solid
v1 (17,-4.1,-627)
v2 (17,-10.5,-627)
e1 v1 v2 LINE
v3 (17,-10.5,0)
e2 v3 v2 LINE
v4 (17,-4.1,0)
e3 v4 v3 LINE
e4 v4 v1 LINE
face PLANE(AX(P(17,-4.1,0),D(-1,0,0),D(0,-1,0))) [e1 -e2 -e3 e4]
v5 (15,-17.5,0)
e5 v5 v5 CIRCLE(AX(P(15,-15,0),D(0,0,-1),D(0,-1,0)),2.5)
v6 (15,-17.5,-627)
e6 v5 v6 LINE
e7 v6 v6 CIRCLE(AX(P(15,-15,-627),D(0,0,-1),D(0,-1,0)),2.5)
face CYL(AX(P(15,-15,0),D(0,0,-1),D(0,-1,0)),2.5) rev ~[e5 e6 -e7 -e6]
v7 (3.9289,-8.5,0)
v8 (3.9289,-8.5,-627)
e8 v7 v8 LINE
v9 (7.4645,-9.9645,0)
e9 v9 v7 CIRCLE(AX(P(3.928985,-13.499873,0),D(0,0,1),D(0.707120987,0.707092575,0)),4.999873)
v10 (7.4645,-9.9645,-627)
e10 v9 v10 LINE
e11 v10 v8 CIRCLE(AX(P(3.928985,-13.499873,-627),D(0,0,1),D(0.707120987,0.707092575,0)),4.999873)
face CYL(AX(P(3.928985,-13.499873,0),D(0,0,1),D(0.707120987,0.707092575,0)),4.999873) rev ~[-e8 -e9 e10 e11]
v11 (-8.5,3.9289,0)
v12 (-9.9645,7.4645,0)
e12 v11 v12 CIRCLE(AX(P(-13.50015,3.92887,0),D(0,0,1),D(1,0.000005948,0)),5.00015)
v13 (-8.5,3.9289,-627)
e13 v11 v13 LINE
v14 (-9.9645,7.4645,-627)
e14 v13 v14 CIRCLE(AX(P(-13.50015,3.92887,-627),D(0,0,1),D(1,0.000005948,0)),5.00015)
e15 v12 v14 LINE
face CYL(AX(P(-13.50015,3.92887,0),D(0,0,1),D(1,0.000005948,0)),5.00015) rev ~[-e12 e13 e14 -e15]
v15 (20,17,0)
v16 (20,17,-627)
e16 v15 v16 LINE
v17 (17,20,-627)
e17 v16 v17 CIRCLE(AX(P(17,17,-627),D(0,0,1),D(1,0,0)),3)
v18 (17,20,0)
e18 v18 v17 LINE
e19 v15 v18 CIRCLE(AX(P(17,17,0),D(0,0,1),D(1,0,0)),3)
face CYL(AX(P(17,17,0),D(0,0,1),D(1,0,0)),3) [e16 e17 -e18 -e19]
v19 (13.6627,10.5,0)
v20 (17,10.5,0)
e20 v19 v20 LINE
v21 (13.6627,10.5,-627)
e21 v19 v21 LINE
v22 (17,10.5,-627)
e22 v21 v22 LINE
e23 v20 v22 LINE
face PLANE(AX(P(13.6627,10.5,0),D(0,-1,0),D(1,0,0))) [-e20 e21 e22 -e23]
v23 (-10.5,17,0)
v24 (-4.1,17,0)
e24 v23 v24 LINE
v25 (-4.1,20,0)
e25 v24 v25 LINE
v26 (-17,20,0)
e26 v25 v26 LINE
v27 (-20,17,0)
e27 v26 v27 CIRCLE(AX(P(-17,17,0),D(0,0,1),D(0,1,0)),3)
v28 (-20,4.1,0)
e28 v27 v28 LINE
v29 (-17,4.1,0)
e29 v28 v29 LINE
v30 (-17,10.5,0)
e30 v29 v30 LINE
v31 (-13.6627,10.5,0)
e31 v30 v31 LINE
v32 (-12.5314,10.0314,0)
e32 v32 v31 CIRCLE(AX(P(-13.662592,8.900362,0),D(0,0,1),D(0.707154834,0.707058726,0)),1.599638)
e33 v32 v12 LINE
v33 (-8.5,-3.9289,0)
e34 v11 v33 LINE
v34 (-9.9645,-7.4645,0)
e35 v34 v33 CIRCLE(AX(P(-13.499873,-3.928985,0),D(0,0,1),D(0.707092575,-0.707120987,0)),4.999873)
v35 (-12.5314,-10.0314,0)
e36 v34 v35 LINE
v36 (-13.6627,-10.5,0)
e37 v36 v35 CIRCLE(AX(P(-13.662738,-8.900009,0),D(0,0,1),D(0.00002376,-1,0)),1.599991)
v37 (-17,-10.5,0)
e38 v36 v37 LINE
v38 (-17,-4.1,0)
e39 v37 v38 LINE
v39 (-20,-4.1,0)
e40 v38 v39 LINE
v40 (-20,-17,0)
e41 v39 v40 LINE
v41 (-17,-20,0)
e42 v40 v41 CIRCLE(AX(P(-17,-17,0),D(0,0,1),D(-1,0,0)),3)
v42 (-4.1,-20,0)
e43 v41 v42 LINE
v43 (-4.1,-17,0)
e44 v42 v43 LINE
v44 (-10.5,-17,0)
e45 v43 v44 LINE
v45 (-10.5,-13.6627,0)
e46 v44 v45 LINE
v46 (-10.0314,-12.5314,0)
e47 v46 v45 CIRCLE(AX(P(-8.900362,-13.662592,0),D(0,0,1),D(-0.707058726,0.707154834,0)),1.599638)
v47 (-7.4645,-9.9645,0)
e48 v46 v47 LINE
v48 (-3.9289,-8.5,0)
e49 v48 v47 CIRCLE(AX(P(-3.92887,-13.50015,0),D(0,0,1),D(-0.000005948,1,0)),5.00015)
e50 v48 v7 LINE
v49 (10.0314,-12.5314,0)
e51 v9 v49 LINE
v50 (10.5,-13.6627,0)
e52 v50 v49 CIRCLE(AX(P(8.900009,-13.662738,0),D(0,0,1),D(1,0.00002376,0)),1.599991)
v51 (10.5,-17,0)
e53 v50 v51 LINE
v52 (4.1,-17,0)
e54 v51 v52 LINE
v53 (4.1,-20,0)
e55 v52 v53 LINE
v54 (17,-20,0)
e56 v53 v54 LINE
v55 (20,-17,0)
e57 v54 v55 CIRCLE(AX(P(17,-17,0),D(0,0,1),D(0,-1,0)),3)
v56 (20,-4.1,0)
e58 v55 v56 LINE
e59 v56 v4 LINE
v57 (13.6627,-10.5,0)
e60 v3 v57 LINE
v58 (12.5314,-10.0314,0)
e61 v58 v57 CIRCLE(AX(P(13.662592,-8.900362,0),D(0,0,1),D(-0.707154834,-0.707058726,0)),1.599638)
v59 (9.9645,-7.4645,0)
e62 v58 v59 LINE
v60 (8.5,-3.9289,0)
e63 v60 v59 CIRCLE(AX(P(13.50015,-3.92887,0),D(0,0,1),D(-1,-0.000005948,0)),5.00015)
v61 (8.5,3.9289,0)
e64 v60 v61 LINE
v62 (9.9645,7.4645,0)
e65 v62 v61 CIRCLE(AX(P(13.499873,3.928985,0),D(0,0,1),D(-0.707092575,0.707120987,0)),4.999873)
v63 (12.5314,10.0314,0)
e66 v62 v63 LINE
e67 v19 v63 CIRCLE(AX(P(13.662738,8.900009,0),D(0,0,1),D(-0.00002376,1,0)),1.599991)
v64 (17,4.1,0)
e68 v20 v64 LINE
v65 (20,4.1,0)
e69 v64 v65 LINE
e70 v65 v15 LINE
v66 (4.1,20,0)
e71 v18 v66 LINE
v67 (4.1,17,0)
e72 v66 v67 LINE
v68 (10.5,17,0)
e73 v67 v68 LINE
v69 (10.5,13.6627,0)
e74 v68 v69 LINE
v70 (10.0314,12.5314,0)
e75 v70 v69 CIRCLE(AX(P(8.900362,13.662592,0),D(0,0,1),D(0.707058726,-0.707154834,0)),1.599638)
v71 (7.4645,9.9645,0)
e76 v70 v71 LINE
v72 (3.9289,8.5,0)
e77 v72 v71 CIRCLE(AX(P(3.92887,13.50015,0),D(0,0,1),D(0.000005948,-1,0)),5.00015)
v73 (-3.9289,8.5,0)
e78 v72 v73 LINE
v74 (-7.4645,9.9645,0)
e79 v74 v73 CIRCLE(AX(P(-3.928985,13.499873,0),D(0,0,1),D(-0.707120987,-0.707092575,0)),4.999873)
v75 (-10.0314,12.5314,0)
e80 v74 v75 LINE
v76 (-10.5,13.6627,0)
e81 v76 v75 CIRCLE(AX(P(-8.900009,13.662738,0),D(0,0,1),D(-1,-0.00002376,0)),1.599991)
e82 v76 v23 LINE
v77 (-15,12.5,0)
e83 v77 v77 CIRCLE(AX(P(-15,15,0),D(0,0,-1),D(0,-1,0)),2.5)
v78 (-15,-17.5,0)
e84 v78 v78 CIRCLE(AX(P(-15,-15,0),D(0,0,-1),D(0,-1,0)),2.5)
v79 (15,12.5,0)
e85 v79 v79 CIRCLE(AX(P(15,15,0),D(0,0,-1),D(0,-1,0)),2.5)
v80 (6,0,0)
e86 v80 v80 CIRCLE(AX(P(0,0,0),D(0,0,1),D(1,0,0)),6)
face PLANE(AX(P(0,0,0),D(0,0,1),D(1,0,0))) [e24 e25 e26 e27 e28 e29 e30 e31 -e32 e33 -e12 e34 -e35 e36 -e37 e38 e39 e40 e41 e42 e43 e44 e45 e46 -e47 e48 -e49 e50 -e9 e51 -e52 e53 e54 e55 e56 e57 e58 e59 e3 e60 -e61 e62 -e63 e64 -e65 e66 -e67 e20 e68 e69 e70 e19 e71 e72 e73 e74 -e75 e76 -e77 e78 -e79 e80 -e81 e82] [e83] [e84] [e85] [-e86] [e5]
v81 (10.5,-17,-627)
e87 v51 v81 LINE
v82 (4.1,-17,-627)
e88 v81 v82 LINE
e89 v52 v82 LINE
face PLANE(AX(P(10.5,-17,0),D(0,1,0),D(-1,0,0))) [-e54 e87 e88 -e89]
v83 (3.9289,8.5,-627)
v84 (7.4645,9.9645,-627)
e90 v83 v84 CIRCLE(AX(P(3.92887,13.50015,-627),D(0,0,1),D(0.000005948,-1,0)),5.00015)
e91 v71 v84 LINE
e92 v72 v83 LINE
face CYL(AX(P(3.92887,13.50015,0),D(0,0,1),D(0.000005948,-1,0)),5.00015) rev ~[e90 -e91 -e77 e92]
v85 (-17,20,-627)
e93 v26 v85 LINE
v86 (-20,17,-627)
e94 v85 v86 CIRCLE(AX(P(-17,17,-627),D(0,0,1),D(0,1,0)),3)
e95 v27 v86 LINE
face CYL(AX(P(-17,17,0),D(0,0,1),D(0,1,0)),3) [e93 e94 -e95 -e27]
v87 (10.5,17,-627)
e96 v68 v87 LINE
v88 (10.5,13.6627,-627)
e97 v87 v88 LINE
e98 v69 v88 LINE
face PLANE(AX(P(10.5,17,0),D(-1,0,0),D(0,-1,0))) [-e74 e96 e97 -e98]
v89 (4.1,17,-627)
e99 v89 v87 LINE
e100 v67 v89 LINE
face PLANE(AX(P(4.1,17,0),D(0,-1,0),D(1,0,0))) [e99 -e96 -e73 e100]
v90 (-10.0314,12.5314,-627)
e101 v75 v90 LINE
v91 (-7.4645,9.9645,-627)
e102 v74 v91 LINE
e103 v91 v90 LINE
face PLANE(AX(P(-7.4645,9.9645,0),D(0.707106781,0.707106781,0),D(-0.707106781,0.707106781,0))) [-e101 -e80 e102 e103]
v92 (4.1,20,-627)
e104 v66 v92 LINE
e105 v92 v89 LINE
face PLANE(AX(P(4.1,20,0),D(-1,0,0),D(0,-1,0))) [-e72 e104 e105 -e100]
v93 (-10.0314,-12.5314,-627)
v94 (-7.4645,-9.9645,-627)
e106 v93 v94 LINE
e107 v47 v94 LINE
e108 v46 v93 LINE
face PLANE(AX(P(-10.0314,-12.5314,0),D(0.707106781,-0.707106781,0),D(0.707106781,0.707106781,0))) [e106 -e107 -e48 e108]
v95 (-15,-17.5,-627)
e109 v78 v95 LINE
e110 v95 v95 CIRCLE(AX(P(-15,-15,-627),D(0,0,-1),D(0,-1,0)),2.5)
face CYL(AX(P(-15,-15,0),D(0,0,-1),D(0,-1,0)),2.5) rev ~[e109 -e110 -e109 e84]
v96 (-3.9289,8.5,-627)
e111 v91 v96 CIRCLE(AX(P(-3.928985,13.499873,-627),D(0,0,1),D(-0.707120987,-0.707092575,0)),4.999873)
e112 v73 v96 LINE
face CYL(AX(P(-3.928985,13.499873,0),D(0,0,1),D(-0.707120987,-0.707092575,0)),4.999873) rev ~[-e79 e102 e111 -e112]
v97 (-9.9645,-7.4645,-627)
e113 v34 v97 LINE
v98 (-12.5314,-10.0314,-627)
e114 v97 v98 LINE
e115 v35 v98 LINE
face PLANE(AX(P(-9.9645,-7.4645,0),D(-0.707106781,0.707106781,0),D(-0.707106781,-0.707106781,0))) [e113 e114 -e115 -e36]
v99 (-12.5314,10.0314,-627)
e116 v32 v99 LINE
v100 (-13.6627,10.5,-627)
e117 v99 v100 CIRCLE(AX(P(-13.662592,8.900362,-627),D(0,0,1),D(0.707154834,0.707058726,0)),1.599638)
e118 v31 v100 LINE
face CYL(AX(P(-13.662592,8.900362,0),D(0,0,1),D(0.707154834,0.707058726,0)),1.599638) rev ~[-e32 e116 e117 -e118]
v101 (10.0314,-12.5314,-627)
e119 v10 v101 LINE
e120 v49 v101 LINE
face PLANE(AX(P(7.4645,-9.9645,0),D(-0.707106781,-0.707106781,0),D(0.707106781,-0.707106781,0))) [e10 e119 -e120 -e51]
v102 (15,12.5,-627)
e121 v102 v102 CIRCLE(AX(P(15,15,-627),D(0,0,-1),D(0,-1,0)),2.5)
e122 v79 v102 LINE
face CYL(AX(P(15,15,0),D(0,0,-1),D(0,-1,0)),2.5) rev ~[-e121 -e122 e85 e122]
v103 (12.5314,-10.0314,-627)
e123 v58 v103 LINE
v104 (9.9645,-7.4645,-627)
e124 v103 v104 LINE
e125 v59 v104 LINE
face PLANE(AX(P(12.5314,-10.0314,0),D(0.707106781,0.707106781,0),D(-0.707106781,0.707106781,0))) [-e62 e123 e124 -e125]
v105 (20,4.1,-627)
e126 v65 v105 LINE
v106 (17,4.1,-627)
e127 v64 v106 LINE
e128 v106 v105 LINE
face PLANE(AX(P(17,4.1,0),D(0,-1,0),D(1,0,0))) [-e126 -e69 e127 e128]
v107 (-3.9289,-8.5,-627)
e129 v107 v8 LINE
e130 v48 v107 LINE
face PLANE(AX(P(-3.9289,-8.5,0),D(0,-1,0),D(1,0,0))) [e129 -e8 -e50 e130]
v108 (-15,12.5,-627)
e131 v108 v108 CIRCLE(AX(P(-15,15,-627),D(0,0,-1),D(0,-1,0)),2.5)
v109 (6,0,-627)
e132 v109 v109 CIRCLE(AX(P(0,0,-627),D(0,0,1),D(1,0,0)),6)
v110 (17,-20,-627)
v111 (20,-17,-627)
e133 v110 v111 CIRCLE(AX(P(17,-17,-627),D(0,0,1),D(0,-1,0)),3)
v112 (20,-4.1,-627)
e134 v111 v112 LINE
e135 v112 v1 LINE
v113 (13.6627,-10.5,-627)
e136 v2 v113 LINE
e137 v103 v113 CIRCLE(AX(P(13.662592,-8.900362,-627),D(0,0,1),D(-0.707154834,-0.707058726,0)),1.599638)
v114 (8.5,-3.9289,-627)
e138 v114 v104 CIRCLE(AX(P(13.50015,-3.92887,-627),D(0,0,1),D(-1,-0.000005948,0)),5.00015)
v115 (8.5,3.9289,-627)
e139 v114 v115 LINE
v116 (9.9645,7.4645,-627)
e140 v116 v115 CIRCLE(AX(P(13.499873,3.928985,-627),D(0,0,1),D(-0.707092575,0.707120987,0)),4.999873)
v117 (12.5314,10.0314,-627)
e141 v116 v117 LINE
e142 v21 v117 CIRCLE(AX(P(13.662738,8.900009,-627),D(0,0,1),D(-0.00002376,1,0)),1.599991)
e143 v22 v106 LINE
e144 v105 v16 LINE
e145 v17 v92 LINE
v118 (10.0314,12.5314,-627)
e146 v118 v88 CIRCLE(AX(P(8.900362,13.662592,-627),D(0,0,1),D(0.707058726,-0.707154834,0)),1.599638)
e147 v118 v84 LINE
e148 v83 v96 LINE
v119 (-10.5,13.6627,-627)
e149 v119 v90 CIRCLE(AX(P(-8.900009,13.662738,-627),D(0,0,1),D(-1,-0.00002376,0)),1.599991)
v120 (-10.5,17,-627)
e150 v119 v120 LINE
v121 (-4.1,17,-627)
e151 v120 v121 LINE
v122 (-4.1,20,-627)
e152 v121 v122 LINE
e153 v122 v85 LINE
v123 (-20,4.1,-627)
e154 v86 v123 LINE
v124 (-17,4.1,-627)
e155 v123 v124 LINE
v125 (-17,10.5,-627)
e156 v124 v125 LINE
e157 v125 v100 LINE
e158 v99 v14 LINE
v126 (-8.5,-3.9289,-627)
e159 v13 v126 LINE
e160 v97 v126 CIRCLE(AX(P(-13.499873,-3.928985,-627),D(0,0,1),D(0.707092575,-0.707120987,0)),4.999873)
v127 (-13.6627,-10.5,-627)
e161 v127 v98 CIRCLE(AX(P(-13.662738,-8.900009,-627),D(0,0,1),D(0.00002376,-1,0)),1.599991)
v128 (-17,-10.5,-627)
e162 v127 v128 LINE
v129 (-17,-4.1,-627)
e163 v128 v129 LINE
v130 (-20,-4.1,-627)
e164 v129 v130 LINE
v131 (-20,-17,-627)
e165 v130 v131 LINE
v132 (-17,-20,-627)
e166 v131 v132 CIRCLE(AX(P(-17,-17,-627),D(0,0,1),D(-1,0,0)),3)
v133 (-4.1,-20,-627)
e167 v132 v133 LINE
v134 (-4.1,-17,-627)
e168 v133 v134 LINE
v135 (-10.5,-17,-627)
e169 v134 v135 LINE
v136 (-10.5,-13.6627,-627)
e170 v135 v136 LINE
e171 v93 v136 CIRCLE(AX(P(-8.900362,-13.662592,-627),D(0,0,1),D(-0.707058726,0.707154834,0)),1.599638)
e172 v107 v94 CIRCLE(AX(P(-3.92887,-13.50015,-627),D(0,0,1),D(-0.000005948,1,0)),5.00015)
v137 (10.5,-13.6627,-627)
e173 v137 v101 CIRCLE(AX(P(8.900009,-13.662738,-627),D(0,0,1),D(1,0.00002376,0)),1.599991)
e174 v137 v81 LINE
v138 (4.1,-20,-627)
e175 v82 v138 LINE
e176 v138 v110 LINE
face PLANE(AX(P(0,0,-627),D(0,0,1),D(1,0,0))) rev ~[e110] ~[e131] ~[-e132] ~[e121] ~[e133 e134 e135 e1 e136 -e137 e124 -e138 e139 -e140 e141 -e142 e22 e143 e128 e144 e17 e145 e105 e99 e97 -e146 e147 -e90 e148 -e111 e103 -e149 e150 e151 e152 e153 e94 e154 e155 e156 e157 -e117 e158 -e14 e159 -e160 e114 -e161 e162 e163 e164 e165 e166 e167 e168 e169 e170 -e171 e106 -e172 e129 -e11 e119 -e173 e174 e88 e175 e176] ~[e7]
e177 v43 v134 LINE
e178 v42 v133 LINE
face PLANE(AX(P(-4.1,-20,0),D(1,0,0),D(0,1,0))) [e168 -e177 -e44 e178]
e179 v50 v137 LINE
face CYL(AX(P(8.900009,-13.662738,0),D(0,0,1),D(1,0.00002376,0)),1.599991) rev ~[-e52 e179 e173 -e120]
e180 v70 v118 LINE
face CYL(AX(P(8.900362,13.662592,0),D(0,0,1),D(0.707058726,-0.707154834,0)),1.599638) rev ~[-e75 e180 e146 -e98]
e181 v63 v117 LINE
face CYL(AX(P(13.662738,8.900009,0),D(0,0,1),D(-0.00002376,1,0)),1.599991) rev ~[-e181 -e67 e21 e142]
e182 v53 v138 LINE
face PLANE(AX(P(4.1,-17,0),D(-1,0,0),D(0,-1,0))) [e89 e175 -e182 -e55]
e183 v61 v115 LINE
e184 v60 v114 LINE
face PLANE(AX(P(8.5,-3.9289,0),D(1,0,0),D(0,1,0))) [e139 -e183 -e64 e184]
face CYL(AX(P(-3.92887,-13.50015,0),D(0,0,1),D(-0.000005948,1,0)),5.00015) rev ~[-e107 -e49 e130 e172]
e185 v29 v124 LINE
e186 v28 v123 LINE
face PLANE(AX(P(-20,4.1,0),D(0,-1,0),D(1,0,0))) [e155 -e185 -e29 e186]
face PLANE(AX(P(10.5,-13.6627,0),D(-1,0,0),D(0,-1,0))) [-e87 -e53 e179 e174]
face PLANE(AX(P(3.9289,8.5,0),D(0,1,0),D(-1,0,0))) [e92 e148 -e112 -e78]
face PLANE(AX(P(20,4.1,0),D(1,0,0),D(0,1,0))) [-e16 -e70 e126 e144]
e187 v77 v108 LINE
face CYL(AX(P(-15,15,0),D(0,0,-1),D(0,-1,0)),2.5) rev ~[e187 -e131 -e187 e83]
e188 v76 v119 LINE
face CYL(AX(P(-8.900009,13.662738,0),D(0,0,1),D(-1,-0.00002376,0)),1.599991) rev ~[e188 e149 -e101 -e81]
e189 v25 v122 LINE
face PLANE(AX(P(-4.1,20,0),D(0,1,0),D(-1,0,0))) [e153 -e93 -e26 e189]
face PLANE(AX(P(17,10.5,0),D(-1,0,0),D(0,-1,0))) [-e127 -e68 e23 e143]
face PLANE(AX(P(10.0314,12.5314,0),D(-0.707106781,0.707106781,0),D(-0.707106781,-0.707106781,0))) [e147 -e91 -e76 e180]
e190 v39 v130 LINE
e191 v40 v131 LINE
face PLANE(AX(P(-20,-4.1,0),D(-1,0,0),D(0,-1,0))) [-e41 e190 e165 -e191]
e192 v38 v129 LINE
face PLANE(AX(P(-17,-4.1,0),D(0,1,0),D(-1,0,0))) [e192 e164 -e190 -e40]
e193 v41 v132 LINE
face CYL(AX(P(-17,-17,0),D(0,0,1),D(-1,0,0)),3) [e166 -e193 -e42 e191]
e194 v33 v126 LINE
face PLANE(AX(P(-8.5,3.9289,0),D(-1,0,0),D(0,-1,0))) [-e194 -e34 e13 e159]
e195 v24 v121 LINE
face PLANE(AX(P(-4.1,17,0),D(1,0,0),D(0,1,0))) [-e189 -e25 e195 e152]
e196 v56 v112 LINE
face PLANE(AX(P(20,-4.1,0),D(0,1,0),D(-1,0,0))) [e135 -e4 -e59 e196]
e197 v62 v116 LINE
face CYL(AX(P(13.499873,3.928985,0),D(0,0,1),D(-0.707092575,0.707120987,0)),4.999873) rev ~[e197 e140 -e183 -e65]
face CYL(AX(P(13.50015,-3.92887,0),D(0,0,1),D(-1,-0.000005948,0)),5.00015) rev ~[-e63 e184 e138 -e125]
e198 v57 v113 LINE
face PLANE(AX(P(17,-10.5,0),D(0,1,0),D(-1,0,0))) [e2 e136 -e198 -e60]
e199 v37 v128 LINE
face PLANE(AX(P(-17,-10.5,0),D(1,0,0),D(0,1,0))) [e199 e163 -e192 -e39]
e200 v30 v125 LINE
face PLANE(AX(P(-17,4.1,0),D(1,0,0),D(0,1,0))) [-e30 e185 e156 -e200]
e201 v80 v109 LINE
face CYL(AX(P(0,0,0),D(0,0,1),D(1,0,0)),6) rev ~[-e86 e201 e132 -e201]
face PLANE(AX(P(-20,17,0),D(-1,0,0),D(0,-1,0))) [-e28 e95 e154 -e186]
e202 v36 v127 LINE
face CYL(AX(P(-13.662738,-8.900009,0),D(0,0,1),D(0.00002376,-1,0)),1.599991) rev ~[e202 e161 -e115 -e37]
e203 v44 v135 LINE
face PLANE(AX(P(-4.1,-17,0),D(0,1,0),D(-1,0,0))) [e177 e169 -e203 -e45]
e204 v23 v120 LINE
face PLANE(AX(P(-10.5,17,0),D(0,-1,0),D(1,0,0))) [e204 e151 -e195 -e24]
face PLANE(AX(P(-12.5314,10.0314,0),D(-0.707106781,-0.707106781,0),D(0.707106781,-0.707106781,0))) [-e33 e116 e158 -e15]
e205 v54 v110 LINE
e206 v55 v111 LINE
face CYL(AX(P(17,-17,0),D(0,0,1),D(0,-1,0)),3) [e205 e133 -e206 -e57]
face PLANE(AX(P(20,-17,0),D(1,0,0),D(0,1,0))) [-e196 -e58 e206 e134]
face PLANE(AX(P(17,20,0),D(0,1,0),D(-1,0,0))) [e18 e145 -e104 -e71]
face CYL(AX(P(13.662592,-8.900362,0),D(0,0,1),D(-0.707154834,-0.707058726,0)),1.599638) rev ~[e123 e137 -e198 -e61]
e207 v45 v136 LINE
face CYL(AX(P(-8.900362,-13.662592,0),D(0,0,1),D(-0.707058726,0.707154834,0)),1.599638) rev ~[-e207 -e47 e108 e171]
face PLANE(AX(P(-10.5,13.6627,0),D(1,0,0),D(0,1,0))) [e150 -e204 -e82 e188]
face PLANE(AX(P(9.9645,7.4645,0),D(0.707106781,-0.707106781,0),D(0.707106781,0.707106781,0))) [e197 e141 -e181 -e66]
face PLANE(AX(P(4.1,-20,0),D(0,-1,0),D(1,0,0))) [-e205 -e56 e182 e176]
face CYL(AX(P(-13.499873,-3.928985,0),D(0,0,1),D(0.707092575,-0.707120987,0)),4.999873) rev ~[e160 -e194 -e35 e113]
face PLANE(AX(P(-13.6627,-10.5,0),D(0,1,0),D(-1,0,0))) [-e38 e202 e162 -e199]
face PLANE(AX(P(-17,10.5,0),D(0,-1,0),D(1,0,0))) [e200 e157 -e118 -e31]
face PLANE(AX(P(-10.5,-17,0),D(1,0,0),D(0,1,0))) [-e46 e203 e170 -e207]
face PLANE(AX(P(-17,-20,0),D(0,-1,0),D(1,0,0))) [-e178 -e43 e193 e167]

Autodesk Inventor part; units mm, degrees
sketch "Skizze_1" plane through (0, 0, 0) normal (0, 0, 1) x (1, 0, 0)
  arc A0 (-20, -17) -> (-17, -20) centre (-17, -17) ccw
  line L0 (-17, -20) -> (-4.1, -20)
  line L1 (-4.1, -20) -> (-4.1, -17)
  line L2 (-4.1, -17) -> (-10.5, -17)
  line L3 (-10.5, -17) -> (-10.5, -13.6627)
  arc A1 (-10.0314, -12.5314) -> (-10.5, -13.6627) centre (-8.9002, -13.6627) ccw
  line L4 (-10.0314, -12.5314) -> (-7.4645, -9.9645)
  arc A2 (-3.9289, -8.5) -> (-7.4645, -9.9645) centre (-3.9289, -13.5) ccw
  line L5 (-3.9289, -8.5) -> (3.9289, -8.5)
  arc A3 (7.4645, -9.9645) -> (3.9289, -8.5) centre (3.9289, -13.5) ccw
  line L6 (7.4645, -9.9645) -> (10.0314, -12.5314)
  arc A4 (10.5, -13.6627) -> (10.0314, -12.5314) centre (8.9002, -13.6627) ccw
  line L7 (10.5, -13.6627) -> (10.5, -17)
  line L8 (10.5, -17) -> (4.1, -17)
  line L9 (4.1, -17) -> (4.1, -20)
  line L10 (4.1, -20) -> (17, -20)
  arc A5 (17, -20) -> (20, -17) centre (17, -17) ccw
  line L11 (20, -17) -> (20, -4.1)
  line L12 (20, -4.1) -> (17, -4.1)
  line L13 (17, -4.1) -> (17, -10.5)
  line L14 (17, -10.5) -> (13.6627, -10.5)
  arc A6 (12.5314, -10.0314) -> (13.6627, -10.5) centre (13.6627, -8.9002) ccw
  line L15 (12.5314, -10.0314) -> (9.9645, -7.4645)
  arc A7 (8.5, -3.9289) -> (9.9645, -7.4645) centre (13.5, -3.9289) ccw
  line L16 (8.5, -3.9289) -> (8.5, 3.9289)
  arc A8 (9.9645, 7.4645) -> (8.5, 3.9289) centre (13.5, 3.9289) ccw
  line L17 (9.9645, 7.4645) -> (12.5314, 10.0314)
  arc A9 (13.6627, 10.5) -> (12.5314, 10.0314) centre (13.6627, 8.9002) ccw
  line L18 (13.6627, 10.5) -> (17, 10.5)
  line L19 (17, 10.5) -> (17, 4.1)
  line L20 (17, 4.1) -> (20, 4.1)
  line L21 (20, 4.1) -> (20, 17)
  arc A10 (20, 17) -> (17, 20) centre (17, 17) ccw
  line L22 (17, 20) -> (4.1, 20)
  line L23 (4.1, 20) -> (4.1, 17)
  line L24 (4.1, 17) -> (10.5, 17)
  line L25 (10.5, 17) -> (10.5, 13.6627)
  arc A11 (10.0314, 12.5314) -> (10.5, 13.6627) centre (8.9002, 13.6627) ccw
  line L26 (10.0314, 12.5314) -> (7.4645, 9.9645)
  arc A12 (3.9289, 8.5) -> (7.4645, 9.9645) centre (3.9289, 13.5) ccw
  line L27 (3.9289, 8.5) -> (-3.9289, 8.5)
  arc A13 (-7.4645, 9.9645) -> (-3.9289, 8.5) centre (-3.9289, 13.5) ccw
  line L28 (-7.4645, 9.9645) -> (-10.0314, 12.5314)
  arc A14 (-10.5, 13.6627) -> (-10.0314, 12.5314) centre (-8.9002, 13.6627) ccw
  line L29 (-10.5, 13.6627) -> (-10.5, 17)
  line L30 (-10.5, 17) -> (-4.1, 17)
  line L31 (-4.1, 17) -> (-4.1, 20)
  line L32 (-4.1, 20) -> (-17, 20)
  arc A15 (-17, 20) -> (-20, 17) centre (-17, 17) ccw
  line L33 (-20, 17) -> (-20, 4.1)
  line L34 (-20, 4.1) -> (-17, 4.1)
  line L35 (-17, 4.1) -> (-17, 10.5)
  line L36 (-17, 10.5) -> (-13.6627, 10.5)
  arc A16 (-12.5314, 10.0314) -> (-13.6627, 10.5) centre (-13.6627, 8.9002) ccw
  line L37 (-12.5314, 10.0314) -> (-9.9645, 7.4645)
  arc A17 (-8.5, 3.9289) -> (-9.9645, 7.4645) centre (-13.5, 3.9289) ccw
  line L38 (-8.5, 3.9289) -> (-8.5, -3.9289)
  arc A18 (-9.9645, -7.4645) -> (-8.5, -3.9289) centre (-13.5, -3.9289) ccw
  line L39 (-9.9645, -7.4645) -> (-12.5314, -10.0314)
  arc A19 (-13.6627, -10.5) -> (-12.5314, -10.0314) centre (-13.6627, -8.9002) ccw
  line L40 (-13.6627, -10.5) -> (-17, -10.5)
  line L41 (-17, -10.5) -> (-17, -4.1)
  line L42 (-17, -4.1) -> (-20, -4.1)
  line L43 (-20, -4.1) -> (-20, -17)
  circle A20 centre (0, 0) radius 6
extrude "Extrusion1" add sketch "Skizze_1" against normal blind 627
sketch "Sketch2" plane through (0, 0, 0) normal (0, 0, 1) x (1, 0, 0)
  point P0 (-15, -15)
hole "Drilling 1" at (-15, -15, 0) direction (0, 0, -1) diameter 5 depth 6000
sketch "Sketch3" plane through (0, 0, 0) normal (0, 0, 1) x (1, 0, 0)
  point P0 (15, -15)
hole "Drilling 2" at (15, -15, 0) direction (0, 0, -1) diameter 5 depth 6000
sketch "Sketch4" plane through (0, 0, 0) normal (0, 0, 1) x (1, 0, 0)
  point P0 (15, 15)
hole "Drilling 3" at (15, 15, 0) direction (0, 0, -1) diameter 5 depth 6000
sketch "Sketch5" plane through (0, 0, 0) normal (0, 0, 1) x (1, 0, 0)
  point P0 (-15, 15)
hole "Drilling 4" at (-15, 15, 0) direction (0, 0, -1) diameter 5 depth 6000
ref_plane "side_4d_XY" through (-20, 0, -313.5) normal (-1, 0, 0) x (0, 1, 0)
ref_plane "side_4d_YZ" through (-20, 0, -313.5) normal (0, 1, 0) x (0, 0, -1)
ref_plane "side_4d_ZX" through (-20, 0, -313.5) normal (0, 0, -1) x (-1, 0, 0)
ref_plane "side_1a_XY" through (0, 20, -313.5) normal (0, 1, 0) x (1, 0, 0)
ref_plane "side_1a_YZ" through (0, 20, -313.5) normal (1, 0, 0) x (0, 0, -1)
ref_plane "side_1a_ZX" through (0, 20, -313.5) normal (0, 0, -1) x (0, 1, 0)
ref_plane "side_2b_XY" through (20, 0, -313.5) normal (1, 0, 0) x (0, -1, 0)
ref_plane "side_2b_YZ" through (20, 0, -313.5) normal (0, -1, 0) x (0, 0, -1)
ref_plane "side_2b_ZX" through (20, 0, -313.5) normal (0, 0, -1) x (1, 0, 0)
ref_plane "side_3c_XY" through (0, -20, -313.5) normal (0, -1, 0) x (-1, 0, 0)
ref_plane "side_3c_YZ" through (0, -20, -313.5) normal (-1, 0, 0) x (0, 0, -1)
ref_plane "side_3c_ZX" through (0, -20, -313.5) normal (0, 0, -1) x (0, -1, 0)
ref_plane "end_XY" through (0, 0, -627) normal (0, 0, -1) x (1, 0, 0)
ref_plane "end_YZ" through (0, 0, -627) normal (1, 0, 0) x (0, -1, 0)
ref_plane "end_ZX" through (0, 0, -627) normal (0, -1, 0) x (0, 0, -1)
ref_plane "start_XY" through (0, 0, 0) normal (0, 0, 1) x (1, 0, 0)
ref_plane "start_YZ" through (0, 0, 0) normal (1, 0, 0) x (0, 1, 0)
ref_plane "start_ZX" through (0, 0, 0) normal (0, 1, 0) x (0, 0, 1)
properties part number "MayTec 1.11.040040.43S_Profile 40x40, 4E, S_627_Detail_(0;0,0,0)"
